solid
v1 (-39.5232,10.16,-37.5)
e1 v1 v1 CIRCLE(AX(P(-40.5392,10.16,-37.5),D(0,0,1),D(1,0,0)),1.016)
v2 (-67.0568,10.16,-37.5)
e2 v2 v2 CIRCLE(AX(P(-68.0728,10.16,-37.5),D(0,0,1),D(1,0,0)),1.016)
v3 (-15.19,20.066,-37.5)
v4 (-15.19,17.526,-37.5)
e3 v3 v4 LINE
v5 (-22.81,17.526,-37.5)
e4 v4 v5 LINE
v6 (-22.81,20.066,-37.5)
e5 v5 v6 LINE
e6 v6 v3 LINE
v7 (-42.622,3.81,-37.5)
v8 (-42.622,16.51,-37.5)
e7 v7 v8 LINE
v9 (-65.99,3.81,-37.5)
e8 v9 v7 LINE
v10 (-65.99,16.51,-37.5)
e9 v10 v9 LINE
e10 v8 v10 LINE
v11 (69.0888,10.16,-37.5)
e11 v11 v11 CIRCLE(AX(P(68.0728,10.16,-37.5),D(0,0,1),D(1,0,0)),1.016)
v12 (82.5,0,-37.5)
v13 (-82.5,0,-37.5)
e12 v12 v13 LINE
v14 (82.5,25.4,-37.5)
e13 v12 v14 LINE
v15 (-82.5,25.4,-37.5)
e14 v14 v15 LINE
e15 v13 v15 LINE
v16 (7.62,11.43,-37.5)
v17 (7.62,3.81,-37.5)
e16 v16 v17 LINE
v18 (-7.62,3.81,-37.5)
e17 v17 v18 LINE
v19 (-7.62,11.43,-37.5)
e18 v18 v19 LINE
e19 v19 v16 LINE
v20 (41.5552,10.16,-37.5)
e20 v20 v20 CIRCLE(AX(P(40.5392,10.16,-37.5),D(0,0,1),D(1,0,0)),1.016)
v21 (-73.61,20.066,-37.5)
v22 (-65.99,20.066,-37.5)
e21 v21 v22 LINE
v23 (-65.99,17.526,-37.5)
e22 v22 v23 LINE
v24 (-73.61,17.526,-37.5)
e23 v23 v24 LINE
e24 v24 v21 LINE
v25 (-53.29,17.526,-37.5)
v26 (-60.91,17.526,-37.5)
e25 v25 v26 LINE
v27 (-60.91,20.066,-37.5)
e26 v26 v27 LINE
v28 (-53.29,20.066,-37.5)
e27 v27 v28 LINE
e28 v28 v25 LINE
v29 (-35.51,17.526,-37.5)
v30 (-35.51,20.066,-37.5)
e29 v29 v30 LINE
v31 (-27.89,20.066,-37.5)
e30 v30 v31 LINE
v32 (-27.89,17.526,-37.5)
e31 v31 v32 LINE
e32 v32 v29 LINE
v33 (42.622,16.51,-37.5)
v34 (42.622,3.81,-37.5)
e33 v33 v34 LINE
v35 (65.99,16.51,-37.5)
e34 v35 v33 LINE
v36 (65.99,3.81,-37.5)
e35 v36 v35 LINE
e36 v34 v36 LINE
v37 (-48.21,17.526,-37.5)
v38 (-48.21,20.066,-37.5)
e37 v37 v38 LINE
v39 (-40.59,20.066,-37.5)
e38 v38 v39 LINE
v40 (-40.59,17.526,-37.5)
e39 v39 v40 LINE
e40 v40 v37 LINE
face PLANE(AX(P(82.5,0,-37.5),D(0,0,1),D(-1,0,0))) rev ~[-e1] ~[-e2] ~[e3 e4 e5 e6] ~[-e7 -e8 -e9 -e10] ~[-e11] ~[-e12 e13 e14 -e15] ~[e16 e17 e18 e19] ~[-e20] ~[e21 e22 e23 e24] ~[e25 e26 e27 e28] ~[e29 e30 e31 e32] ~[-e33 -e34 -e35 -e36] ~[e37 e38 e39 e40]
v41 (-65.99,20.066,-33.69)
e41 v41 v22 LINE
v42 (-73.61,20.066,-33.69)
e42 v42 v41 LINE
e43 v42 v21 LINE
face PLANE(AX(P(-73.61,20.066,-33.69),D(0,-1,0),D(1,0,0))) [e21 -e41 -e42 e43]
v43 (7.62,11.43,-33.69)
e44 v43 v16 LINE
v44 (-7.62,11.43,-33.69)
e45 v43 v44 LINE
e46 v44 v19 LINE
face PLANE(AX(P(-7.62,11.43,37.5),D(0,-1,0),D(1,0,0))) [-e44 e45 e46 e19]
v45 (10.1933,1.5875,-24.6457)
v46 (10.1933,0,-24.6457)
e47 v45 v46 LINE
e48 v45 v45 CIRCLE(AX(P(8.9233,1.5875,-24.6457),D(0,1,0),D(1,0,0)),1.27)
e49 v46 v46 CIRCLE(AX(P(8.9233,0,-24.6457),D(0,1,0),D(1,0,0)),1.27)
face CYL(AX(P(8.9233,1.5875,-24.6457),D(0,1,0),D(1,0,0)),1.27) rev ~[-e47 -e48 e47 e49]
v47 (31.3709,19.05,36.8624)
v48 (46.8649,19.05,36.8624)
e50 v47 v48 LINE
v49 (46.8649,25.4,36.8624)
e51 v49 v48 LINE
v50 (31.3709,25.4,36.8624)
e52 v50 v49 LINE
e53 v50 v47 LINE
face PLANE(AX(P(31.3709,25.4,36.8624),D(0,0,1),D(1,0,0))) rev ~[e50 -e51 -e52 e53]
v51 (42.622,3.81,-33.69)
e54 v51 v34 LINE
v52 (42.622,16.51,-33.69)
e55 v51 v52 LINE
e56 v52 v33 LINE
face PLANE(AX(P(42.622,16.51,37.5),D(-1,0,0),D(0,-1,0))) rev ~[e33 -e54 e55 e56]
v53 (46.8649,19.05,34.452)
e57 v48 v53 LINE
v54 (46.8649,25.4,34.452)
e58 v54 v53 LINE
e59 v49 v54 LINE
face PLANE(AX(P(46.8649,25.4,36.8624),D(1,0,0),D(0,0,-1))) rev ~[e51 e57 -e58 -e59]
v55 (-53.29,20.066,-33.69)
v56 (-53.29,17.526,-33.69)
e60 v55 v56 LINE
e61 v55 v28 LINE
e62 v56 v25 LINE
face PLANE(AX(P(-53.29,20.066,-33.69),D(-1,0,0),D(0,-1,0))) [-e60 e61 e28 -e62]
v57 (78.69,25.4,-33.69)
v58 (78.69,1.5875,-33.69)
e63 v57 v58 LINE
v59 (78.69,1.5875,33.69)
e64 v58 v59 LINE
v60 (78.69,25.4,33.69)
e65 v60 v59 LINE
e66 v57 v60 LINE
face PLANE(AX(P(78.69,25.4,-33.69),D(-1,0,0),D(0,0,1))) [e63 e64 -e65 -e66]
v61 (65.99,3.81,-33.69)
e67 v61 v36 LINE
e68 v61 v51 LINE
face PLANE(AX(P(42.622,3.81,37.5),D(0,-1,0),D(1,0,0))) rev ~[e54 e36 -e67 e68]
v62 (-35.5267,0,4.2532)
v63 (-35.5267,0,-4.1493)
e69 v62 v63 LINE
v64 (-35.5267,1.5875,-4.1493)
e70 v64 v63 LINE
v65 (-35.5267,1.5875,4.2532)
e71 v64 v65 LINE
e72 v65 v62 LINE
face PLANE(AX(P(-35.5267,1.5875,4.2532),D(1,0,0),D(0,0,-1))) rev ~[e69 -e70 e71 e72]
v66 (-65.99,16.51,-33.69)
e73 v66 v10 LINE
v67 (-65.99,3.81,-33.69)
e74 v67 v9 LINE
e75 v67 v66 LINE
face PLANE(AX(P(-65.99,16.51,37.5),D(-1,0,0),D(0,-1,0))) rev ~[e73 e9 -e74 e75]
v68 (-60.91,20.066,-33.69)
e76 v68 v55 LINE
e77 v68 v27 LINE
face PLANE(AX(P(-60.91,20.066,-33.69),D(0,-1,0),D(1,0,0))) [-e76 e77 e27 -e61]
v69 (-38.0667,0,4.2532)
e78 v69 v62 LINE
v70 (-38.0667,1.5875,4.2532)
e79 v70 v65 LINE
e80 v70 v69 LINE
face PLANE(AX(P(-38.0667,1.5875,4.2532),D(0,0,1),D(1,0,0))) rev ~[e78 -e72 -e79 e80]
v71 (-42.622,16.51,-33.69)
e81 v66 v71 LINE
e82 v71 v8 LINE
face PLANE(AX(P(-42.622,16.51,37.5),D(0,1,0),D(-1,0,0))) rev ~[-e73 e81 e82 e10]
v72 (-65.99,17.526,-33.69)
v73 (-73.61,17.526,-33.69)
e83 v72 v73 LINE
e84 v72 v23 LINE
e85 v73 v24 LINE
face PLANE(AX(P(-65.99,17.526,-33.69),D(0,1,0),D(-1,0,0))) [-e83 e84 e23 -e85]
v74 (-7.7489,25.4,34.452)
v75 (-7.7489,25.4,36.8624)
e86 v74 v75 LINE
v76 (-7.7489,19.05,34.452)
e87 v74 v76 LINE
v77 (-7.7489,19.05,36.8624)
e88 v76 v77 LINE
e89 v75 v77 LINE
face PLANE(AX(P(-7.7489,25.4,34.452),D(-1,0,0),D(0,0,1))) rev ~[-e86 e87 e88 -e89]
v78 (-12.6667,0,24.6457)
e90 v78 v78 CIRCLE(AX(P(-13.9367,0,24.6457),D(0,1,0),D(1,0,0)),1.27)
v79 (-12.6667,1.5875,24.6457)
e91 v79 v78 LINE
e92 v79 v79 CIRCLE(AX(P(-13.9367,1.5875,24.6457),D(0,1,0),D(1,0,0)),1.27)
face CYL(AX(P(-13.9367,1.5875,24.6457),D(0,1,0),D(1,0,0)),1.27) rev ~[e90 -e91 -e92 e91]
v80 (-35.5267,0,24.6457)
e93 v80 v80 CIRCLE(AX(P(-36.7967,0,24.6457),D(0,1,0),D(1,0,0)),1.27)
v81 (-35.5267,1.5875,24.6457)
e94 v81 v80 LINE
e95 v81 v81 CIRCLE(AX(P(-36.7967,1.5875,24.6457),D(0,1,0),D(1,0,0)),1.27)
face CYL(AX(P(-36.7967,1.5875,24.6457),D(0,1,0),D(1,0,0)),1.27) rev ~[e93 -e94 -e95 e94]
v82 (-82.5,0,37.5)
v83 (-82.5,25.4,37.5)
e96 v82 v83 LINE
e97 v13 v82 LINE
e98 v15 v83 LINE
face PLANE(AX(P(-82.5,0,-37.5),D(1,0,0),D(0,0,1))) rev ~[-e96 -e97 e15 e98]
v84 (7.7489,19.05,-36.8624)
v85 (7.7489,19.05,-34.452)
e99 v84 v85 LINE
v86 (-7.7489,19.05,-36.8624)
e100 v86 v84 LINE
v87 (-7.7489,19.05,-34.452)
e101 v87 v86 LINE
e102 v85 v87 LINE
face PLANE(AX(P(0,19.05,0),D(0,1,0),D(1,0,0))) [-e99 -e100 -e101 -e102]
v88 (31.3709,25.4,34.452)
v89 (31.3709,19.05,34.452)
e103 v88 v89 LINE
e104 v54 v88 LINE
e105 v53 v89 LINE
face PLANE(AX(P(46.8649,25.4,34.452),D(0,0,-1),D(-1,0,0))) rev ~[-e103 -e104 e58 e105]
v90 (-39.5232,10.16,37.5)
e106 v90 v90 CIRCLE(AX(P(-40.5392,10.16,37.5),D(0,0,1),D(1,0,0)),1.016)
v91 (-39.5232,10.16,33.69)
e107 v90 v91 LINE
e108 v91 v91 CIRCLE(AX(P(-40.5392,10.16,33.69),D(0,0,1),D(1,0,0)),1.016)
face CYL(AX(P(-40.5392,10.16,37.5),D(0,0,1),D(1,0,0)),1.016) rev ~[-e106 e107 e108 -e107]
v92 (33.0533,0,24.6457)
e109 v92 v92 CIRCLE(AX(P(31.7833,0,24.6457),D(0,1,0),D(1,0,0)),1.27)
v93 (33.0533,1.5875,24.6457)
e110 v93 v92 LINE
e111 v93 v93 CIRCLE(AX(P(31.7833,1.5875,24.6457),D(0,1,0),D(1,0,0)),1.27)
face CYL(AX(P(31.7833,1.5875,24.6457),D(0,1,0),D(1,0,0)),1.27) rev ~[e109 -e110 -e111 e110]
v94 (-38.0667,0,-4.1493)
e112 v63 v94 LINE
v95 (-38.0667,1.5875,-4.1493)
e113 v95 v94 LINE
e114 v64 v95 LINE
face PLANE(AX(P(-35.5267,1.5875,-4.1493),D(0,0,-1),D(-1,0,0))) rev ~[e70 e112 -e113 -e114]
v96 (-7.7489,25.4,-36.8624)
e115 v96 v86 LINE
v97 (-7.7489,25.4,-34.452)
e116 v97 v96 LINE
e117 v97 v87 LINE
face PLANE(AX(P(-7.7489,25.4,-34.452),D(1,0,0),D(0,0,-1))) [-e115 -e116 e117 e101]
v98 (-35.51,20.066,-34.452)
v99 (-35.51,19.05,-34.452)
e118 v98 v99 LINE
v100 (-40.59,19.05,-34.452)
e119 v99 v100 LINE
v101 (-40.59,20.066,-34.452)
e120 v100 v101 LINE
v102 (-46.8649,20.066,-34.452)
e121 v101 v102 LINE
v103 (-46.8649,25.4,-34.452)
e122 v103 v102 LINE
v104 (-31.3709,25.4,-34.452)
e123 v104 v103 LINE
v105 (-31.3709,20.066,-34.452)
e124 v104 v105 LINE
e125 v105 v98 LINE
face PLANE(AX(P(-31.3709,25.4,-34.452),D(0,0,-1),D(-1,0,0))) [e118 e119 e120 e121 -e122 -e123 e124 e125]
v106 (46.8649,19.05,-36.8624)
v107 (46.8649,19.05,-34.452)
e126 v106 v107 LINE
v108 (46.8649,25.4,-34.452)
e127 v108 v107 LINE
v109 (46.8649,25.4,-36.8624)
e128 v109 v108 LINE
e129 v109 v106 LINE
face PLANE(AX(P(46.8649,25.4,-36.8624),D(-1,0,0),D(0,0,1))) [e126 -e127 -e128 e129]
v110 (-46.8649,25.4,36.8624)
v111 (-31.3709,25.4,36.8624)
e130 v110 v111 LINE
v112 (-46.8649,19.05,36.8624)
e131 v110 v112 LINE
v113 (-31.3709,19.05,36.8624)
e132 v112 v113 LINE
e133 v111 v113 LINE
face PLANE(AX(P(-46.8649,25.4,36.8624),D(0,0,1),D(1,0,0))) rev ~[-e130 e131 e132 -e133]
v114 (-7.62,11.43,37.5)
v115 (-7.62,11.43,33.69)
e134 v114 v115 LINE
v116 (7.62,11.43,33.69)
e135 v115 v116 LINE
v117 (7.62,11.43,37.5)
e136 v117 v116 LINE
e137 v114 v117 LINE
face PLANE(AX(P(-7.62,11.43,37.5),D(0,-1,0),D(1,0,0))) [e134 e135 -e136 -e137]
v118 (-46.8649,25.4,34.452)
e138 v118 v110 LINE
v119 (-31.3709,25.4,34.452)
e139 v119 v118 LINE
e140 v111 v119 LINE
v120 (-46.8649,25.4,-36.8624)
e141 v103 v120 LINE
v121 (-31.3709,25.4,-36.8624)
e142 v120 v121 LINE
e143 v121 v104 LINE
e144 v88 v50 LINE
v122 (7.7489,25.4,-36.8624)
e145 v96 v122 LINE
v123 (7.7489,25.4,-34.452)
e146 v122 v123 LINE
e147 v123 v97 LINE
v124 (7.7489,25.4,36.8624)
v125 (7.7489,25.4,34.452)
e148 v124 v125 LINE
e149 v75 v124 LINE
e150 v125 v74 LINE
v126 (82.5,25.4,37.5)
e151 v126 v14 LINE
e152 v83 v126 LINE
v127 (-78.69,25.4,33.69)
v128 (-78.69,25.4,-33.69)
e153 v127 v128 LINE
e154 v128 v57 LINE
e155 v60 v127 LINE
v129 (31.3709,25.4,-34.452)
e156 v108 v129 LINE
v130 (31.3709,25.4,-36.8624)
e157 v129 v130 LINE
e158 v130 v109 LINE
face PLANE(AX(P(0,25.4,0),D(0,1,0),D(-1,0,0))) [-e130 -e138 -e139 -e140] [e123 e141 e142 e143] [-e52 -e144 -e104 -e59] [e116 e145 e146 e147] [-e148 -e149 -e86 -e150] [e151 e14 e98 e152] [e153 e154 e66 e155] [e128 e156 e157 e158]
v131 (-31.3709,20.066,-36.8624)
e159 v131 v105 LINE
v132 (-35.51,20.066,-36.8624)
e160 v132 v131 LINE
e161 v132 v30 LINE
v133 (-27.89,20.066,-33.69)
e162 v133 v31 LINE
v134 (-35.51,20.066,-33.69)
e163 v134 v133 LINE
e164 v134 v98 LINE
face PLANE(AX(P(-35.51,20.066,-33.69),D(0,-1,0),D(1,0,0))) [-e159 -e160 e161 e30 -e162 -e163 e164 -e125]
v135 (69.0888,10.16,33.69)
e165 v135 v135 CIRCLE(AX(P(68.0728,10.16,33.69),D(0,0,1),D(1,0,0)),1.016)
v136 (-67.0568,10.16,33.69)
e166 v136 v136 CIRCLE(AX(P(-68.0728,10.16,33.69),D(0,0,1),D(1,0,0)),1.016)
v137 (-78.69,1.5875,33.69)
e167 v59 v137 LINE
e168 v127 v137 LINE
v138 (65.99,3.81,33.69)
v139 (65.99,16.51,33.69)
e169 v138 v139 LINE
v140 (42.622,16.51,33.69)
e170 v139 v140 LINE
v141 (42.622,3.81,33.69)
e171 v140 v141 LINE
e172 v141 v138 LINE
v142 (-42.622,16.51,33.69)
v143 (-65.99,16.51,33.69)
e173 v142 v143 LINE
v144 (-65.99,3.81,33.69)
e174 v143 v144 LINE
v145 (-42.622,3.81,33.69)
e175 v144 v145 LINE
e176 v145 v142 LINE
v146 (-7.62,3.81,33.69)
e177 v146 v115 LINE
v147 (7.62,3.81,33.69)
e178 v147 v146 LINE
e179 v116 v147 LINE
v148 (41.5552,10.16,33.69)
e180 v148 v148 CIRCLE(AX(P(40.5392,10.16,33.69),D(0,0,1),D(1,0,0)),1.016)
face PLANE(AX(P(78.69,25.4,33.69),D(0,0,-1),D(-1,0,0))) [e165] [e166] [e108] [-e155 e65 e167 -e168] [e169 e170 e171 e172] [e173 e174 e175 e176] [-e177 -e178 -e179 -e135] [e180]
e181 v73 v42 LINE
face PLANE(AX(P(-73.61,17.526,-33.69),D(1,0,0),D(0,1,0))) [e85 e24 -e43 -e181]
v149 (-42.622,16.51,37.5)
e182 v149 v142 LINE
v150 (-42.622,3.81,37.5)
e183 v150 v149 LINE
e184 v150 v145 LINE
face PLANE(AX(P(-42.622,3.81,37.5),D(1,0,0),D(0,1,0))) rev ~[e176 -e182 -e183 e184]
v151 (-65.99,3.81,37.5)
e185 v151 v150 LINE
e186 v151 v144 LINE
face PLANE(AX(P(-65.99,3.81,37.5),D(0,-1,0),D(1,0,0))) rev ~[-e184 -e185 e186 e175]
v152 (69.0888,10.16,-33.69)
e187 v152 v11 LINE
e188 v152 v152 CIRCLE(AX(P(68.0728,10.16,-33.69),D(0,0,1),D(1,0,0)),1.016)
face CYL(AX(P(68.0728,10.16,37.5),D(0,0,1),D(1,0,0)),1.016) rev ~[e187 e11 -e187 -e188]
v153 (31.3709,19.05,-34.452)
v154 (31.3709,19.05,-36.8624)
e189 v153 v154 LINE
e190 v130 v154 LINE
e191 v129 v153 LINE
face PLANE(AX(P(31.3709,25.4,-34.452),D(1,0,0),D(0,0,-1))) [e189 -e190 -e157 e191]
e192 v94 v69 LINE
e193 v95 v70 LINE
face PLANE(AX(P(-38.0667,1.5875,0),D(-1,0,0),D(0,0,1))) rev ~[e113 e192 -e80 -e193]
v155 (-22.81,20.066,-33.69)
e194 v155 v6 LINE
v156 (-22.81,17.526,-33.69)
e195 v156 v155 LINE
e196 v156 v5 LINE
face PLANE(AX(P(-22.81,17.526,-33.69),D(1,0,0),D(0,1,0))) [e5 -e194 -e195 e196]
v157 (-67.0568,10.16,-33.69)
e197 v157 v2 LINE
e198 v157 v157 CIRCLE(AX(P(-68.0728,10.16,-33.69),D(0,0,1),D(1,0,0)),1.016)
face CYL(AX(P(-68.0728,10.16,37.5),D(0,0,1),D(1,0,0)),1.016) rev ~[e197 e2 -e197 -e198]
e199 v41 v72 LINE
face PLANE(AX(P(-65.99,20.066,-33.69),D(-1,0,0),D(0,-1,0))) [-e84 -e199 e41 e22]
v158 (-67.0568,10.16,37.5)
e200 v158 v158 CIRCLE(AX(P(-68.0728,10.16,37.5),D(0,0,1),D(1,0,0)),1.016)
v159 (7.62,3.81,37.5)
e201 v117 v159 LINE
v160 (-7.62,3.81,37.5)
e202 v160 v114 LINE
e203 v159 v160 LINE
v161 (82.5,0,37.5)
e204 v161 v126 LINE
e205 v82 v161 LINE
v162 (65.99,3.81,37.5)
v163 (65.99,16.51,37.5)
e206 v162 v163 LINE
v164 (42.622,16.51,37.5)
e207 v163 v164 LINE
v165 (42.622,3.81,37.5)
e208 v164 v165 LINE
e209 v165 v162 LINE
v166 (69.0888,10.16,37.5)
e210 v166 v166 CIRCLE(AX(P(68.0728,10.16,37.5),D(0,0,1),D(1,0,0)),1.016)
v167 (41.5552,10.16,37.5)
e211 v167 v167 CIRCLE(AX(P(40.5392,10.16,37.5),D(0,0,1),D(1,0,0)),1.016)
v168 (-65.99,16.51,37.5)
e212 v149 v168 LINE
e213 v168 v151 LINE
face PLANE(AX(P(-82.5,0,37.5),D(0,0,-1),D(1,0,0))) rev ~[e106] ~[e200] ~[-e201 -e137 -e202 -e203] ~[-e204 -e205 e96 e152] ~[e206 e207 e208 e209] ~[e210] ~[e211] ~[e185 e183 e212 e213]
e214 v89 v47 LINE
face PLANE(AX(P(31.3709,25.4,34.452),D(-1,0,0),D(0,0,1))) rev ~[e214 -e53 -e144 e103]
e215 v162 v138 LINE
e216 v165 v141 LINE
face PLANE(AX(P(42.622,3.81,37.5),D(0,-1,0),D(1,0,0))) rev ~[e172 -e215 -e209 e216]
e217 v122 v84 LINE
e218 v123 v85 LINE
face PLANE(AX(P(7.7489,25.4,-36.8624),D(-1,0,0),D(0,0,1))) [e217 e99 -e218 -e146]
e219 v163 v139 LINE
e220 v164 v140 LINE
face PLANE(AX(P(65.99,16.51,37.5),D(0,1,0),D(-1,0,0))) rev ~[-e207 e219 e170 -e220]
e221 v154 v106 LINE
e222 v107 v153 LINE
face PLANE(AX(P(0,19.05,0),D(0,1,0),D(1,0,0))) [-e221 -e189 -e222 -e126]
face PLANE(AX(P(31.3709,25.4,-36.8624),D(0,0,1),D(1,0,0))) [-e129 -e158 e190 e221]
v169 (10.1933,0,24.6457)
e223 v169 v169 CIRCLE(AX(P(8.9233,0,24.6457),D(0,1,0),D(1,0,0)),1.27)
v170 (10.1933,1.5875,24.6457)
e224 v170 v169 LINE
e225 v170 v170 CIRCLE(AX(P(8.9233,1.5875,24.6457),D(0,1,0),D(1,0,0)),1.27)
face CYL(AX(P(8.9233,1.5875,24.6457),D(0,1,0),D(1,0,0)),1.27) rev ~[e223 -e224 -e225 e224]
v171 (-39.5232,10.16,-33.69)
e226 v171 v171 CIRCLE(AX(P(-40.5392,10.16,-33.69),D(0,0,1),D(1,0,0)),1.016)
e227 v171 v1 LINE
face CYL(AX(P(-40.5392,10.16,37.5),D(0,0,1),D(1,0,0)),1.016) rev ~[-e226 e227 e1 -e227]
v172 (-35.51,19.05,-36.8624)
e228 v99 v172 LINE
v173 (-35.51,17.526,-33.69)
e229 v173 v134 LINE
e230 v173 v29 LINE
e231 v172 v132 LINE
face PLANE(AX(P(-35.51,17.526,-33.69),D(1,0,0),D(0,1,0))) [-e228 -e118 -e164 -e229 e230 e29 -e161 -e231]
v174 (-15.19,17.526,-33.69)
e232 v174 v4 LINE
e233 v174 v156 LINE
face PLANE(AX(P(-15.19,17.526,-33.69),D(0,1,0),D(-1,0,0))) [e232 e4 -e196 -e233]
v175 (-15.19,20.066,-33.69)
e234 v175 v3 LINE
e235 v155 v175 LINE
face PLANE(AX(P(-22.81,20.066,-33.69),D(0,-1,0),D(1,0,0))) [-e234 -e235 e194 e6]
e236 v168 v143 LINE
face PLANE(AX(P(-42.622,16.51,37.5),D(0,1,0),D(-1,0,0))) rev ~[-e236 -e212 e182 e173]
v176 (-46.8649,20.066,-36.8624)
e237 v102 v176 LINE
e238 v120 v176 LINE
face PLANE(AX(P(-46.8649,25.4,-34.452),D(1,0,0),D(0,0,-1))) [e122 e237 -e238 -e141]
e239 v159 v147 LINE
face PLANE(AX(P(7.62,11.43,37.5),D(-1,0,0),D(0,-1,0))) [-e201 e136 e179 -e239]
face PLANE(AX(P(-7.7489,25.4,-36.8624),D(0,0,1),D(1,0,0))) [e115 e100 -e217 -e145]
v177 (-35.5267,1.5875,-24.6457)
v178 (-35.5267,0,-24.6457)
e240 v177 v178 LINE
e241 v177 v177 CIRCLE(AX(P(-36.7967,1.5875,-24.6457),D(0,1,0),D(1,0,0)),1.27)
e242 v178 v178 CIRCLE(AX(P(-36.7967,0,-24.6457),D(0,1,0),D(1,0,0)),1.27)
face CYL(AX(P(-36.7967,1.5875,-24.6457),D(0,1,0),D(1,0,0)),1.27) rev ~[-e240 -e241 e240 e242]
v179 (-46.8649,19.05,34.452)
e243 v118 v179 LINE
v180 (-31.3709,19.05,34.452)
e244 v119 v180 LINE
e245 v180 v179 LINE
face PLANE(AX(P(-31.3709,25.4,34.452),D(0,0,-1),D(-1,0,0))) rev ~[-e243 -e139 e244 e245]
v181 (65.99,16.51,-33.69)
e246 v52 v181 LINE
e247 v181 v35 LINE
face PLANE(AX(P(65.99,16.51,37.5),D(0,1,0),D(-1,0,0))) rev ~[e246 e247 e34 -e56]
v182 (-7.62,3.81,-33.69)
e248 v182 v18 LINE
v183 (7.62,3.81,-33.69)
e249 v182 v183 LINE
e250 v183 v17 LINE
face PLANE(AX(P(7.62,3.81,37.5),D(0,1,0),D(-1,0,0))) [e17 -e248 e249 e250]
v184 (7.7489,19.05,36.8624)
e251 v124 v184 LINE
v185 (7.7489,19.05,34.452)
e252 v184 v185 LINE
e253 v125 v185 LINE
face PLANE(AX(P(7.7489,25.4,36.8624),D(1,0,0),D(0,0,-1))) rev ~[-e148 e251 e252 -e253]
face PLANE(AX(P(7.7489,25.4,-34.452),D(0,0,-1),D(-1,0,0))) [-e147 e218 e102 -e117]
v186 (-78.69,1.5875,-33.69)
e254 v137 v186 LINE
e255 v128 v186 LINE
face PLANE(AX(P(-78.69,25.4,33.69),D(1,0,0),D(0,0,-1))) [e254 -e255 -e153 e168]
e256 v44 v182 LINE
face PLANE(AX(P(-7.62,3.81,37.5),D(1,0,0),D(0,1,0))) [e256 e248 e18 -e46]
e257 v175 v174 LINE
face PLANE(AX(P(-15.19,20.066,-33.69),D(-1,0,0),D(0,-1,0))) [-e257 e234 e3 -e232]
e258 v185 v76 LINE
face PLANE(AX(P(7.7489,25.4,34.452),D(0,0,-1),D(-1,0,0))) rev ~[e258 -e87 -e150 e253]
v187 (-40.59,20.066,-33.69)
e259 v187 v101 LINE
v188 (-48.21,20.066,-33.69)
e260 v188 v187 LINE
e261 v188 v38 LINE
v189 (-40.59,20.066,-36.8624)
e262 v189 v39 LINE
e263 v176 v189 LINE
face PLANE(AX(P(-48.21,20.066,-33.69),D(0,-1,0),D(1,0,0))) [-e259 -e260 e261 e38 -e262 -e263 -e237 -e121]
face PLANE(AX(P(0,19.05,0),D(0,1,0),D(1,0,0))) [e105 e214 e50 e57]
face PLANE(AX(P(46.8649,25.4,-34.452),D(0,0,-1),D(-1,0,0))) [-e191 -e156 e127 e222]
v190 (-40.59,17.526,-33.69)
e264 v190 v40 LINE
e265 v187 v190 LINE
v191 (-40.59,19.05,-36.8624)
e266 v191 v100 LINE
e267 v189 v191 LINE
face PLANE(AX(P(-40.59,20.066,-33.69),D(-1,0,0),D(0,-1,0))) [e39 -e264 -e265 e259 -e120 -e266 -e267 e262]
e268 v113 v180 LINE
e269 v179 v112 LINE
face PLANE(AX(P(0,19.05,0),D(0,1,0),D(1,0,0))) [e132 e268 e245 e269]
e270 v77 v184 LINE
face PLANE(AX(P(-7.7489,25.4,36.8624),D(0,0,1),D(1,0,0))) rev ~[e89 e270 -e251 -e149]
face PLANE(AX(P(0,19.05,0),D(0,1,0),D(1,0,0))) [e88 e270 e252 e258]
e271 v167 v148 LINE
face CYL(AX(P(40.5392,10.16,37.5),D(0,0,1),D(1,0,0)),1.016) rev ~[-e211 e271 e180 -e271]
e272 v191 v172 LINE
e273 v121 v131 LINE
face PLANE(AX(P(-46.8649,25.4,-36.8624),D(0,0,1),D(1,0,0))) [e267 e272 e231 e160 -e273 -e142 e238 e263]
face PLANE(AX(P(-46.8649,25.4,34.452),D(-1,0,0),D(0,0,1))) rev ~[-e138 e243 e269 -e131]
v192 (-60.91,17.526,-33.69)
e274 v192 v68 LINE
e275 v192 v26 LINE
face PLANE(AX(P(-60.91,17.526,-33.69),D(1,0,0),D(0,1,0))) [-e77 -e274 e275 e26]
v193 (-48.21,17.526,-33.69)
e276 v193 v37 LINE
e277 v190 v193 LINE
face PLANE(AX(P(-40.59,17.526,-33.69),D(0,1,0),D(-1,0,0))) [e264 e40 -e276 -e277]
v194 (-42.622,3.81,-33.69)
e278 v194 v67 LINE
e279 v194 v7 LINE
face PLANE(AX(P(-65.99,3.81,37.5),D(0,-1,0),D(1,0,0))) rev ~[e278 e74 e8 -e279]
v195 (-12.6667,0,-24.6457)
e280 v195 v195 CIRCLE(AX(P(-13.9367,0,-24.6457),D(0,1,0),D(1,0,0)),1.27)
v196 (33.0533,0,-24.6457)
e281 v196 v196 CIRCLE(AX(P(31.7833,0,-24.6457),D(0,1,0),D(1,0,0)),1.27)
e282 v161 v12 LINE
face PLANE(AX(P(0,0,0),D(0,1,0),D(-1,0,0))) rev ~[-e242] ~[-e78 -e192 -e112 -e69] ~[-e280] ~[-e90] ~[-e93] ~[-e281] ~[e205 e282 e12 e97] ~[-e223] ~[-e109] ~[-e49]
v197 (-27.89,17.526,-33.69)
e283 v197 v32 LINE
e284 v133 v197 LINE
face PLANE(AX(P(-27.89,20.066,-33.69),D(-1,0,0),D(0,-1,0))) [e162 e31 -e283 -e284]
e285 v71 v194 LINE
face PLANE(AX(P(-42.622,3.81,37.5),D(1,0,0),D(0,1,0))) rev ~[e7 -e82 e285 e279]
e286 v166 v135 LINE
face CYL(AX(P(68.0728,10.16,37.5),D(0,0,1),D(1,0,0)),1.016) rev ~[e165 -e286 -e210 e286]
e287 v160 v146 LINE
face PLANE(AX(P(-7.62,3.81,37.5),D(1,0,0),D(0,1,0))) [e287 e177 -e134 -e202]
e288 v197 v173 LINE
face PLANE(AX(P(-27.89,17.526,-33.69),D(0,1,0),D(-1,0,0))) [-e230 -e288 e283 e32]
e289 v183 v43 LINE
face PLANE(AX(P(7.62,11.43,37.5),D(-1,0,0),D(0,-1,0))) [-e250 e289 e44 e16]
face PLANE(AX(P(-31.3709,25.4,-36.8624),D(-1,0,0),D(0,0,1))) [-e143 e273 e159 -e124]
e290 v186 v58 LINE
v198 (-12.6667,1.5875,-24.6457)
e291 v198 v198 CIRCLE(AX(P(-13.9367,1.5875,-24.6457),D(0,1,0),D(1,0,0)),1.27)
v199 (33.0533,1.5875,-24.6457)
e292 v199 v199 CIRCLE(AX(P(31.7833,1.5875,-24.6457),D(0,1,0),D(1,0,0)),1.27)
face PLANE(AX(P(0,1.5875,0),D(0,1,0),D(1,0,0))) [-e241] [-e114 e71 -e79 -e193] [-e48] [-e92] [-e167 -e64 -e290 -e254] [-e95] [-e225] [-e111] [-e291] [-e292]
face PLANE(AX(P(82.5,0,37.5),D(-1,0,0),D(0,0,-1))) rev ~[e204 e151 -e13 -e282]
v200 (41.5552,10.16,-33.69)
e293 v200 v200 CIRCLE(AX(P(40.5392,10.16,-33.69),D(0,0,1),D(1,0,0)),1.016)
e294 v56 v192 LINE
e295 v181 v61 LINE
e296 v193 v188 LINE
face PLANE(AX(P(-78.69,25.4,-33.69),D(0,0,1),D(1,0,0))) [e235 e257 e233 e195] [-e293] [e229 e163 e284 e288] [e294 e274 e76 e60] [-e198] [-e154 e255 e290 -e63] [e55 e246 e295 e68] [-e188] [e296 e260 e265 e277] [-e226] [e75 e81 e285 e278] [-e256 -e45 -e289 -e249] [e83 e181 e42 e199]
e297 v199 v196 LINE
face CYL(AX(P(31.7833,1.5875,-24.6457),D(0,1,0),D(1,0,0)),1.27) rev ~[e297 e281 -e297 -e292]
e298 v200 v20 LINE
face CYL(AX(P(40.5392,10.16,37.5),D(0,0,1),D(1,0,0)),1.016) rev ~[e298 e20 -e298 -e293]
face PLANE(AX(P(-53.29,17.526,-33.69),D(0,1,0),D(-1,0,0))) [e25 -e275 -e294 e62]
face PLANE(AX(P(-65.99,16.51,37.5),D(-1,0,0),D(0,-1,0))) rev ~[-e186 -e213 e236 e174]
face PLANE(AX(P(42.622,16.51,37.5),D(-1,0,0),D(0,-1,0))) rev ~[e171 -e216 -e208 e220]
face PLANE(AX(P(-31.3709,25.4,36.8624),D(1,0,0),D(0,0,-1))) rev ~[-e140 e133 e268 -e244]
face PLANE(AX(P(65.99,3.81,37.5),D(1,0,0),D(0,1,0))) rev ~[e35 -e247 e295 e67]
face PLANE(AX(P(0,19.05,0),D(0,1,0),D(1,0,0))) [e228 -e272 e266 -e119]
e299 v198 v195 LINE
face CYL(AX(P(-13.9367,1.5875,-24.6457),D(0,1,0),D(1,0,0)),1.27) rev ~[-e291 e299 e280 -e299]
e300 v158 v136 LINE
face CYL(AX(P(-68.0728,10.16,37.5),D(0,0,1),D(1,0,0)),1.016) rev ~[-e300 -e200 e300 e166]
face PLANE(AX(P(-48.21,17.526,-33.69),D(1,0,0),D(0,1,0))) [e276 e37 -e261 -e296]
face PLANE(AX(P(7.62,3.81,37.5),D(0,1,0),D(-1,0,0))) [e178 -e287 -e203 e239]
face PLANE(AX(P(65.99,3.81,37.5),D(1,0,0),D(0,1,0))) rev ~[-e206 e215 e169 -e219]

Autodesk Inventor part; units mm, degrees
ref_plane "YZ Plane" through (0, 0, 0) normal (1, 0, 0) x (0, 1, 0)
ref_plane "XZ Plane" through (0, 0, 0) normal (0, 1, 0) x (-1, 0, 0)
sketch "Sketch1" plane through (0, 0, 0) normal (0, 1, 0) x (-1, 0, 0)
  line L0 (82.5, 37.5) -> (-82.5, 37.5)
  line L1 (-82.5, 37.5) -> (-82.5, -37.5)
  line L2 (-82.5, -37.5) -> (82.5, -37.5)
  line L3 (82.5, -37.5) -> (82.5, 37.5)
  point P0 (0, 0)
  point P1 (82.5, 0)
  point P2 (0, -37.5)
  dimension "d0" = 165
  dimension "d1" = 75
extrude "Extrusion1" add sketch "Sketch1" along normal blind 25.4
sketch "Sketch2" plane through (-82.5, 0, 37.5) normal (0, 0, 1) x (1, 0, 0)
  line L0 (39.878, 16.51) -> (16.51, 16.51)
  line L1 (39.878, 3.81) -> (39.878, 16.51)
  line L2 (16.51, 3.81) -> (39.878, 3.81)
  line L3 (16.51, 16.51) -> (16.51, 3.81)
  circle A0 centre (14.4272, 10.16) radius 1.016
  circle A1 centre (41.9608, 10.16) radius 1.016
  line L4 (0, 0) -> (165, 0) projected
  line L5 (0, 0) -> (0, 25.4) projected
  line L6 (148.49, 16.51) -> (125.122, 16.51)
  circle A2 centre (150.5728, 10.16) radius 1.016
  line L7 (148.49, 3.81) -> (148.49, 16.51)
  line L8 (125.122, 3.81) -> (148.49, 3.81)
  line L9 (125.122, 16.51) -> (125.122, 3.81)
  circle A3 centre (123.0392, 10.16) radius 1.016
  line L10 (165, 0) -> (165, 25.4) projected
  line L11 (74.88, 11.43) -> (90.12, 11.43)
  line L12 (90.12, 11.43) -> (90.12, 3.81)
  line L13 (90.12, 3.81) -> (74.88, 3.81)
  line L14 (74.88, 3.81) -> (74.88, 11.43)
  point P0 (82.5, 0)
  point P1 (16.51, 10.16)
  point P2 (39.878, 10.16)
  point P3 (0, 12.7)
  point P4 (125.122, 10.16)
  point P5 (82.5, 11.43)
  point P6 (82.5, 0)
  point P7 (74.88, 7.62)
  point P8 (148.49, 10.16)
  point P9 (90.12, 7.62)
  dimension "d4" = 12.7
  dimension "d5" = 23.368
  dimension "d6" = 2.032
  dimension "d7" = 2.032
  dimension "d8" = 2.0828
  dimension "d9" = 2.0828
  dimension "d11" = 16.51
  dimension "d12" = 12.7
  dimension "d13" = 23.368
  dimension "d14" = 2.032
  dimension "d15" = 2.032
  dimension "d16" = 2.0828
  dimension "d17" = 2.0828
  dimension "d18" = 16.51
  dimension "d19" = 15.24
  dimension "d20" = 7.62
  dimension "d55" = 10.16
  dimension "d56" = 10.16
  dimension "d58" = 7.62
extrude "Extrusion2" cut sketch "Sketch2" against normal blind 100.0125
sketch "Sketch3" plane through (0, 25.4, 0) normal (0, 1, 0) x (1, 0, 0)
  line L0 (-78.69, 33.69) -> (78.69, 33.69)
  line L1 (78.69, 33.69) -> (78.69, -33.69)
  line L2 (78.69, -33.69) -> (-78.69, -33.69)
  line L3 (-78.69, -33.69) -> (-78.69, 33.69)
  line L4 (82.5, -37.5) -> (82.5, 37.5) projected
  line L5 (-82.5, 37.5) -> (-82.5, -37.5) projected
  line L6 (82.5, 37.5) -> (-82.5, 37.5) projected
  line L7 (-82.5, -37.5) -> (82.5, -37.5) projected
  point P0 (0, 0)
  dimension "d25" = 3.81
  dimension "d26" = 3.81
  dimension "d27" = 3.81
  dimension "d28" = 3.81
extrude "Extrusion3" cut sketch "Sketch3" against normal blind 23.8125 contours L0 L1 L2 L3
sketch "Sketch4" plane through (0, 1.5875, 0) normal (0, 1, 0) x (1, 0, 0)
  circle A0 centre (31.7833, 24.6457) radius 1.27
  line L0 (-42.5, 20.5817) -> (42.5, 20.5817)
  circle A1 centre (8.9233, 24.6457) radius 1.27
  circle A2 centre (-13.9367, 24.6457) radius 1.27
  circle A3 centre (-36.7967, 24.6457) radius 1.27
  line L1 (67.3028, 0) -> (-67.3028, 0)
  circle A4 centre (31.7833, -24.6457) radius 1.27
  circle A5 centre (8.9233, -24.6457) radius 1.27
  circle A6 centre (-13.9367, -24.6457) radius 1.27
  circle A7 centre (-36.7967, -24.6457) radius 1.27
  line L2 (78.69, 33.69) -> (78.69, -33.69) projected
  line L3 (-38.0667, -4.2532) -> (-35.5267, -4.2532)
  line L4 (-35.5267, -4.2532) -> (-35.5267, 4.1493)
  line L5 (-35.5267, 4.1493) -> (-38.0667, 4.1493)
  line L6 (-38.0667, 4.1493) -> (-38.0667, -4.2532)
  point P0 (0, 0)
  point P1 (-11.4746, -1.9183)
  point P2 (78.69, 0)
  point P3 (0, 0)
  point P4 (0, 20.5817)
  point P5 (-36.7967, -4.2532)
  dimension "d35" = 2.54
  dimension "d36" = 4.064
  dimension "d37" = 22.86
  dimension "d159" = 20.3925
  dimension "d160" = 49.2914
extrude "Extrusion4" cut sketch "Sketch4" against normal blind 22.225
ref_plane "Work Plane2" through (0, 19.05, 0) normal (0, 1, 0) x (1, 0, 0)
sketch "Sketch9" plane through (0, 25.4, 0) normal (0, 1, 0) x (1, 0, 0)
  line L0 (-46.8649, 36.8624) -> (-31.3709, 36.8624)
  line L1 (-31.3709, 36.8624) -> (-31.3709, 34.452)
  line L2 (-31.3709, 34.452) -> (-46.8649, 34.452)
  line L3 (-46.8649, 34.452) -> (-46.8649, 36.8624)
  line L4 (31.3709, 36.8624) -> (46.8649, 36.8624)
  line L5 (46.8649, 36.8624) -> (46.8649, 34.452)
  line L6 (46.8649, 34.452) -> (31.3709, 34.452)
  line L7 (31.3709, 34.452) -> (31.3709, 36.8624)
  line L8 (-7.7489, 36.8624) -> (7.7489, 36.8624)
  line L9 (7.7489, 36.8624) -> (7.7489, 34.452)
  line L10 (7.7489, 34.452) -> (-7.7489, 34.452)
  line L11 (-7.7489, 34.452) -> (-7.7489, 36.8624)
  line L12 (82.5, -37.5) -> (82.5, 37.5) projected
  line L13 (-82.5, 37.5) -> (-82.5, -37.5) projected
  line L14 (-67.8534, 0) -> (73.4776, 0)
  line L15 (-46.8649, -36.8624) -> (-31.3709, -36.8624)
  line L16 (-31.3709, -36.8624) -> (-31.3709, -34.452)
  line L17 (-31.3709, -34.452) -> (-46.8649, -34.452)
  line L18 (-46.8649, -34.452) -> (-46.8649, -36.8624)
  line L19 (31.3709, -36.8624) -> (46.8649, -36.8624)
  line L20 (46.8649, -36.8624) -> (46.8649, -34.452)
  line L21 (46.8649, -34.452) -> (31.3709, -34.452)
  line L22 (31.3709, -34.452) -> (31.3709, -36.8624)
  line L23 (-7.7489, -36.8624) -> (7.7489, -36.8624)
  line L24 (7.7489, -36.8624) -> (7.7489, -34.452)
  line L25 (7.7489, -34.452) -> (-7.7489, -34.452)
  line L26 (-7.7489, -34.452) -> (-7.7489, -36.8624)
  line L27 (-78.69, 33.69) -> (78.69, 33.69) projected
  point P0 (0, 0)
  point P1 (-31.3709, 35.6572)
  point P2 (31.3709, 35.6572)
  point P3 (-7.7489, 35.6572)
  point P4 (7.7489, 35.6572)
  point P5 (0, 34.452)
  dimension "d59" = 2.4104
  dimension "d60" = 2.4104
  dimension "d61" = 2.4104
  dimension "d62" = 23.622
  dimension "d63" = 23.622
  dimension "d64" = 15.4979
  dimension "d65" = 15.494
  dimension "d66" = 15.494
  dimension "d85" = 0.762
extrude "Extrusion6" cut sketch "Sketch9" against normal blind 6.35
sketch "Sketch12" plane through (-78.69, 25.4, -33.69) normal (0, 0, 1) x (1, 0, 0)
  line L0 (5.08, -5.334) -> (12.7, -5.334)
  line L1 (12.7, -5.334) -> (12.7, -7.874)
  line L2 (12.7, -7.874) -> (5.08, -7.874)
  line L3 (5.08, -7.874) -> (5.08, -5.334)
  line L4 (0, 0) -> (157.38, 0) projected
  line L5 (0, 0) -> (0, -23.8125) projected
  line L6 (17.78, -5.334) -> (25.4, -5.334)
  line L7 (25.4, -5.334) -> (25.4, -7.874)
  line L8 (25.4, -7.874) -> (17.78, -7.874)
  line L9 (17.78, -7.874) -> (17.78, -5.334)
  line L10 (30.48, -5.334) -> (38.1, -5.334)
  line L11 (38.1, -5.334) -> (38.1, -7.874)
  line L12 (38.1, -7.874) -> (30.48, -7.874)
  line L13 (30.48, -7.874) -> (30.48, -5.334)
  line L14 (43.18, -5.334) -> (50.8, -5.334)
  line L15 (50.8, -5.334) -> (50.8, -7.874)
  line L16 (50.8, -7.874) -> (43.18, -7.874)
  line L17 (43.18, -7.874) -> (43.18, -5.334)
  line L18 (55.88, -5.334) -> (63.5, -5.334)
  line L19 (63.5, -5.334) -> (63.5, -7.874)
  line L20 (63.5, -7.874) -> (55.88, -7.874)
  line L21 (55.88, -7.874) -> (55.88, -5.334)
  point P0 (78.69, -25.4)
  dimension "d123" = 2.54
  dimension "d124" = 7.62
  dimension "d125" = 5.334
  dimension "d126" = 5.08
  dimension "d127" = 7.62
  dimension "d128" = 2.54
  dimension "d129" = 5.334
  dimension "d130" = 5.08
  dimension "d131" = 7.62
  dimension "d132" = 2.54
  dimension "d133" = 5.334
  dimension "d134" = 5.08
  dimension "d135" = 7.62
  dimension "d136" = 2.54
  dimension "d137" = 5.334
  dimension "d138" = 5.08
  dimension "d139" = 7.62
  dimension "d140" = 2.54
  dimension "d141" = 5.334
  dimension "d142" = 5.08
extrude "Extrusion9" cut sketch "Sketch12" against normal blind 5.715
properties part number "cuerpo3"
